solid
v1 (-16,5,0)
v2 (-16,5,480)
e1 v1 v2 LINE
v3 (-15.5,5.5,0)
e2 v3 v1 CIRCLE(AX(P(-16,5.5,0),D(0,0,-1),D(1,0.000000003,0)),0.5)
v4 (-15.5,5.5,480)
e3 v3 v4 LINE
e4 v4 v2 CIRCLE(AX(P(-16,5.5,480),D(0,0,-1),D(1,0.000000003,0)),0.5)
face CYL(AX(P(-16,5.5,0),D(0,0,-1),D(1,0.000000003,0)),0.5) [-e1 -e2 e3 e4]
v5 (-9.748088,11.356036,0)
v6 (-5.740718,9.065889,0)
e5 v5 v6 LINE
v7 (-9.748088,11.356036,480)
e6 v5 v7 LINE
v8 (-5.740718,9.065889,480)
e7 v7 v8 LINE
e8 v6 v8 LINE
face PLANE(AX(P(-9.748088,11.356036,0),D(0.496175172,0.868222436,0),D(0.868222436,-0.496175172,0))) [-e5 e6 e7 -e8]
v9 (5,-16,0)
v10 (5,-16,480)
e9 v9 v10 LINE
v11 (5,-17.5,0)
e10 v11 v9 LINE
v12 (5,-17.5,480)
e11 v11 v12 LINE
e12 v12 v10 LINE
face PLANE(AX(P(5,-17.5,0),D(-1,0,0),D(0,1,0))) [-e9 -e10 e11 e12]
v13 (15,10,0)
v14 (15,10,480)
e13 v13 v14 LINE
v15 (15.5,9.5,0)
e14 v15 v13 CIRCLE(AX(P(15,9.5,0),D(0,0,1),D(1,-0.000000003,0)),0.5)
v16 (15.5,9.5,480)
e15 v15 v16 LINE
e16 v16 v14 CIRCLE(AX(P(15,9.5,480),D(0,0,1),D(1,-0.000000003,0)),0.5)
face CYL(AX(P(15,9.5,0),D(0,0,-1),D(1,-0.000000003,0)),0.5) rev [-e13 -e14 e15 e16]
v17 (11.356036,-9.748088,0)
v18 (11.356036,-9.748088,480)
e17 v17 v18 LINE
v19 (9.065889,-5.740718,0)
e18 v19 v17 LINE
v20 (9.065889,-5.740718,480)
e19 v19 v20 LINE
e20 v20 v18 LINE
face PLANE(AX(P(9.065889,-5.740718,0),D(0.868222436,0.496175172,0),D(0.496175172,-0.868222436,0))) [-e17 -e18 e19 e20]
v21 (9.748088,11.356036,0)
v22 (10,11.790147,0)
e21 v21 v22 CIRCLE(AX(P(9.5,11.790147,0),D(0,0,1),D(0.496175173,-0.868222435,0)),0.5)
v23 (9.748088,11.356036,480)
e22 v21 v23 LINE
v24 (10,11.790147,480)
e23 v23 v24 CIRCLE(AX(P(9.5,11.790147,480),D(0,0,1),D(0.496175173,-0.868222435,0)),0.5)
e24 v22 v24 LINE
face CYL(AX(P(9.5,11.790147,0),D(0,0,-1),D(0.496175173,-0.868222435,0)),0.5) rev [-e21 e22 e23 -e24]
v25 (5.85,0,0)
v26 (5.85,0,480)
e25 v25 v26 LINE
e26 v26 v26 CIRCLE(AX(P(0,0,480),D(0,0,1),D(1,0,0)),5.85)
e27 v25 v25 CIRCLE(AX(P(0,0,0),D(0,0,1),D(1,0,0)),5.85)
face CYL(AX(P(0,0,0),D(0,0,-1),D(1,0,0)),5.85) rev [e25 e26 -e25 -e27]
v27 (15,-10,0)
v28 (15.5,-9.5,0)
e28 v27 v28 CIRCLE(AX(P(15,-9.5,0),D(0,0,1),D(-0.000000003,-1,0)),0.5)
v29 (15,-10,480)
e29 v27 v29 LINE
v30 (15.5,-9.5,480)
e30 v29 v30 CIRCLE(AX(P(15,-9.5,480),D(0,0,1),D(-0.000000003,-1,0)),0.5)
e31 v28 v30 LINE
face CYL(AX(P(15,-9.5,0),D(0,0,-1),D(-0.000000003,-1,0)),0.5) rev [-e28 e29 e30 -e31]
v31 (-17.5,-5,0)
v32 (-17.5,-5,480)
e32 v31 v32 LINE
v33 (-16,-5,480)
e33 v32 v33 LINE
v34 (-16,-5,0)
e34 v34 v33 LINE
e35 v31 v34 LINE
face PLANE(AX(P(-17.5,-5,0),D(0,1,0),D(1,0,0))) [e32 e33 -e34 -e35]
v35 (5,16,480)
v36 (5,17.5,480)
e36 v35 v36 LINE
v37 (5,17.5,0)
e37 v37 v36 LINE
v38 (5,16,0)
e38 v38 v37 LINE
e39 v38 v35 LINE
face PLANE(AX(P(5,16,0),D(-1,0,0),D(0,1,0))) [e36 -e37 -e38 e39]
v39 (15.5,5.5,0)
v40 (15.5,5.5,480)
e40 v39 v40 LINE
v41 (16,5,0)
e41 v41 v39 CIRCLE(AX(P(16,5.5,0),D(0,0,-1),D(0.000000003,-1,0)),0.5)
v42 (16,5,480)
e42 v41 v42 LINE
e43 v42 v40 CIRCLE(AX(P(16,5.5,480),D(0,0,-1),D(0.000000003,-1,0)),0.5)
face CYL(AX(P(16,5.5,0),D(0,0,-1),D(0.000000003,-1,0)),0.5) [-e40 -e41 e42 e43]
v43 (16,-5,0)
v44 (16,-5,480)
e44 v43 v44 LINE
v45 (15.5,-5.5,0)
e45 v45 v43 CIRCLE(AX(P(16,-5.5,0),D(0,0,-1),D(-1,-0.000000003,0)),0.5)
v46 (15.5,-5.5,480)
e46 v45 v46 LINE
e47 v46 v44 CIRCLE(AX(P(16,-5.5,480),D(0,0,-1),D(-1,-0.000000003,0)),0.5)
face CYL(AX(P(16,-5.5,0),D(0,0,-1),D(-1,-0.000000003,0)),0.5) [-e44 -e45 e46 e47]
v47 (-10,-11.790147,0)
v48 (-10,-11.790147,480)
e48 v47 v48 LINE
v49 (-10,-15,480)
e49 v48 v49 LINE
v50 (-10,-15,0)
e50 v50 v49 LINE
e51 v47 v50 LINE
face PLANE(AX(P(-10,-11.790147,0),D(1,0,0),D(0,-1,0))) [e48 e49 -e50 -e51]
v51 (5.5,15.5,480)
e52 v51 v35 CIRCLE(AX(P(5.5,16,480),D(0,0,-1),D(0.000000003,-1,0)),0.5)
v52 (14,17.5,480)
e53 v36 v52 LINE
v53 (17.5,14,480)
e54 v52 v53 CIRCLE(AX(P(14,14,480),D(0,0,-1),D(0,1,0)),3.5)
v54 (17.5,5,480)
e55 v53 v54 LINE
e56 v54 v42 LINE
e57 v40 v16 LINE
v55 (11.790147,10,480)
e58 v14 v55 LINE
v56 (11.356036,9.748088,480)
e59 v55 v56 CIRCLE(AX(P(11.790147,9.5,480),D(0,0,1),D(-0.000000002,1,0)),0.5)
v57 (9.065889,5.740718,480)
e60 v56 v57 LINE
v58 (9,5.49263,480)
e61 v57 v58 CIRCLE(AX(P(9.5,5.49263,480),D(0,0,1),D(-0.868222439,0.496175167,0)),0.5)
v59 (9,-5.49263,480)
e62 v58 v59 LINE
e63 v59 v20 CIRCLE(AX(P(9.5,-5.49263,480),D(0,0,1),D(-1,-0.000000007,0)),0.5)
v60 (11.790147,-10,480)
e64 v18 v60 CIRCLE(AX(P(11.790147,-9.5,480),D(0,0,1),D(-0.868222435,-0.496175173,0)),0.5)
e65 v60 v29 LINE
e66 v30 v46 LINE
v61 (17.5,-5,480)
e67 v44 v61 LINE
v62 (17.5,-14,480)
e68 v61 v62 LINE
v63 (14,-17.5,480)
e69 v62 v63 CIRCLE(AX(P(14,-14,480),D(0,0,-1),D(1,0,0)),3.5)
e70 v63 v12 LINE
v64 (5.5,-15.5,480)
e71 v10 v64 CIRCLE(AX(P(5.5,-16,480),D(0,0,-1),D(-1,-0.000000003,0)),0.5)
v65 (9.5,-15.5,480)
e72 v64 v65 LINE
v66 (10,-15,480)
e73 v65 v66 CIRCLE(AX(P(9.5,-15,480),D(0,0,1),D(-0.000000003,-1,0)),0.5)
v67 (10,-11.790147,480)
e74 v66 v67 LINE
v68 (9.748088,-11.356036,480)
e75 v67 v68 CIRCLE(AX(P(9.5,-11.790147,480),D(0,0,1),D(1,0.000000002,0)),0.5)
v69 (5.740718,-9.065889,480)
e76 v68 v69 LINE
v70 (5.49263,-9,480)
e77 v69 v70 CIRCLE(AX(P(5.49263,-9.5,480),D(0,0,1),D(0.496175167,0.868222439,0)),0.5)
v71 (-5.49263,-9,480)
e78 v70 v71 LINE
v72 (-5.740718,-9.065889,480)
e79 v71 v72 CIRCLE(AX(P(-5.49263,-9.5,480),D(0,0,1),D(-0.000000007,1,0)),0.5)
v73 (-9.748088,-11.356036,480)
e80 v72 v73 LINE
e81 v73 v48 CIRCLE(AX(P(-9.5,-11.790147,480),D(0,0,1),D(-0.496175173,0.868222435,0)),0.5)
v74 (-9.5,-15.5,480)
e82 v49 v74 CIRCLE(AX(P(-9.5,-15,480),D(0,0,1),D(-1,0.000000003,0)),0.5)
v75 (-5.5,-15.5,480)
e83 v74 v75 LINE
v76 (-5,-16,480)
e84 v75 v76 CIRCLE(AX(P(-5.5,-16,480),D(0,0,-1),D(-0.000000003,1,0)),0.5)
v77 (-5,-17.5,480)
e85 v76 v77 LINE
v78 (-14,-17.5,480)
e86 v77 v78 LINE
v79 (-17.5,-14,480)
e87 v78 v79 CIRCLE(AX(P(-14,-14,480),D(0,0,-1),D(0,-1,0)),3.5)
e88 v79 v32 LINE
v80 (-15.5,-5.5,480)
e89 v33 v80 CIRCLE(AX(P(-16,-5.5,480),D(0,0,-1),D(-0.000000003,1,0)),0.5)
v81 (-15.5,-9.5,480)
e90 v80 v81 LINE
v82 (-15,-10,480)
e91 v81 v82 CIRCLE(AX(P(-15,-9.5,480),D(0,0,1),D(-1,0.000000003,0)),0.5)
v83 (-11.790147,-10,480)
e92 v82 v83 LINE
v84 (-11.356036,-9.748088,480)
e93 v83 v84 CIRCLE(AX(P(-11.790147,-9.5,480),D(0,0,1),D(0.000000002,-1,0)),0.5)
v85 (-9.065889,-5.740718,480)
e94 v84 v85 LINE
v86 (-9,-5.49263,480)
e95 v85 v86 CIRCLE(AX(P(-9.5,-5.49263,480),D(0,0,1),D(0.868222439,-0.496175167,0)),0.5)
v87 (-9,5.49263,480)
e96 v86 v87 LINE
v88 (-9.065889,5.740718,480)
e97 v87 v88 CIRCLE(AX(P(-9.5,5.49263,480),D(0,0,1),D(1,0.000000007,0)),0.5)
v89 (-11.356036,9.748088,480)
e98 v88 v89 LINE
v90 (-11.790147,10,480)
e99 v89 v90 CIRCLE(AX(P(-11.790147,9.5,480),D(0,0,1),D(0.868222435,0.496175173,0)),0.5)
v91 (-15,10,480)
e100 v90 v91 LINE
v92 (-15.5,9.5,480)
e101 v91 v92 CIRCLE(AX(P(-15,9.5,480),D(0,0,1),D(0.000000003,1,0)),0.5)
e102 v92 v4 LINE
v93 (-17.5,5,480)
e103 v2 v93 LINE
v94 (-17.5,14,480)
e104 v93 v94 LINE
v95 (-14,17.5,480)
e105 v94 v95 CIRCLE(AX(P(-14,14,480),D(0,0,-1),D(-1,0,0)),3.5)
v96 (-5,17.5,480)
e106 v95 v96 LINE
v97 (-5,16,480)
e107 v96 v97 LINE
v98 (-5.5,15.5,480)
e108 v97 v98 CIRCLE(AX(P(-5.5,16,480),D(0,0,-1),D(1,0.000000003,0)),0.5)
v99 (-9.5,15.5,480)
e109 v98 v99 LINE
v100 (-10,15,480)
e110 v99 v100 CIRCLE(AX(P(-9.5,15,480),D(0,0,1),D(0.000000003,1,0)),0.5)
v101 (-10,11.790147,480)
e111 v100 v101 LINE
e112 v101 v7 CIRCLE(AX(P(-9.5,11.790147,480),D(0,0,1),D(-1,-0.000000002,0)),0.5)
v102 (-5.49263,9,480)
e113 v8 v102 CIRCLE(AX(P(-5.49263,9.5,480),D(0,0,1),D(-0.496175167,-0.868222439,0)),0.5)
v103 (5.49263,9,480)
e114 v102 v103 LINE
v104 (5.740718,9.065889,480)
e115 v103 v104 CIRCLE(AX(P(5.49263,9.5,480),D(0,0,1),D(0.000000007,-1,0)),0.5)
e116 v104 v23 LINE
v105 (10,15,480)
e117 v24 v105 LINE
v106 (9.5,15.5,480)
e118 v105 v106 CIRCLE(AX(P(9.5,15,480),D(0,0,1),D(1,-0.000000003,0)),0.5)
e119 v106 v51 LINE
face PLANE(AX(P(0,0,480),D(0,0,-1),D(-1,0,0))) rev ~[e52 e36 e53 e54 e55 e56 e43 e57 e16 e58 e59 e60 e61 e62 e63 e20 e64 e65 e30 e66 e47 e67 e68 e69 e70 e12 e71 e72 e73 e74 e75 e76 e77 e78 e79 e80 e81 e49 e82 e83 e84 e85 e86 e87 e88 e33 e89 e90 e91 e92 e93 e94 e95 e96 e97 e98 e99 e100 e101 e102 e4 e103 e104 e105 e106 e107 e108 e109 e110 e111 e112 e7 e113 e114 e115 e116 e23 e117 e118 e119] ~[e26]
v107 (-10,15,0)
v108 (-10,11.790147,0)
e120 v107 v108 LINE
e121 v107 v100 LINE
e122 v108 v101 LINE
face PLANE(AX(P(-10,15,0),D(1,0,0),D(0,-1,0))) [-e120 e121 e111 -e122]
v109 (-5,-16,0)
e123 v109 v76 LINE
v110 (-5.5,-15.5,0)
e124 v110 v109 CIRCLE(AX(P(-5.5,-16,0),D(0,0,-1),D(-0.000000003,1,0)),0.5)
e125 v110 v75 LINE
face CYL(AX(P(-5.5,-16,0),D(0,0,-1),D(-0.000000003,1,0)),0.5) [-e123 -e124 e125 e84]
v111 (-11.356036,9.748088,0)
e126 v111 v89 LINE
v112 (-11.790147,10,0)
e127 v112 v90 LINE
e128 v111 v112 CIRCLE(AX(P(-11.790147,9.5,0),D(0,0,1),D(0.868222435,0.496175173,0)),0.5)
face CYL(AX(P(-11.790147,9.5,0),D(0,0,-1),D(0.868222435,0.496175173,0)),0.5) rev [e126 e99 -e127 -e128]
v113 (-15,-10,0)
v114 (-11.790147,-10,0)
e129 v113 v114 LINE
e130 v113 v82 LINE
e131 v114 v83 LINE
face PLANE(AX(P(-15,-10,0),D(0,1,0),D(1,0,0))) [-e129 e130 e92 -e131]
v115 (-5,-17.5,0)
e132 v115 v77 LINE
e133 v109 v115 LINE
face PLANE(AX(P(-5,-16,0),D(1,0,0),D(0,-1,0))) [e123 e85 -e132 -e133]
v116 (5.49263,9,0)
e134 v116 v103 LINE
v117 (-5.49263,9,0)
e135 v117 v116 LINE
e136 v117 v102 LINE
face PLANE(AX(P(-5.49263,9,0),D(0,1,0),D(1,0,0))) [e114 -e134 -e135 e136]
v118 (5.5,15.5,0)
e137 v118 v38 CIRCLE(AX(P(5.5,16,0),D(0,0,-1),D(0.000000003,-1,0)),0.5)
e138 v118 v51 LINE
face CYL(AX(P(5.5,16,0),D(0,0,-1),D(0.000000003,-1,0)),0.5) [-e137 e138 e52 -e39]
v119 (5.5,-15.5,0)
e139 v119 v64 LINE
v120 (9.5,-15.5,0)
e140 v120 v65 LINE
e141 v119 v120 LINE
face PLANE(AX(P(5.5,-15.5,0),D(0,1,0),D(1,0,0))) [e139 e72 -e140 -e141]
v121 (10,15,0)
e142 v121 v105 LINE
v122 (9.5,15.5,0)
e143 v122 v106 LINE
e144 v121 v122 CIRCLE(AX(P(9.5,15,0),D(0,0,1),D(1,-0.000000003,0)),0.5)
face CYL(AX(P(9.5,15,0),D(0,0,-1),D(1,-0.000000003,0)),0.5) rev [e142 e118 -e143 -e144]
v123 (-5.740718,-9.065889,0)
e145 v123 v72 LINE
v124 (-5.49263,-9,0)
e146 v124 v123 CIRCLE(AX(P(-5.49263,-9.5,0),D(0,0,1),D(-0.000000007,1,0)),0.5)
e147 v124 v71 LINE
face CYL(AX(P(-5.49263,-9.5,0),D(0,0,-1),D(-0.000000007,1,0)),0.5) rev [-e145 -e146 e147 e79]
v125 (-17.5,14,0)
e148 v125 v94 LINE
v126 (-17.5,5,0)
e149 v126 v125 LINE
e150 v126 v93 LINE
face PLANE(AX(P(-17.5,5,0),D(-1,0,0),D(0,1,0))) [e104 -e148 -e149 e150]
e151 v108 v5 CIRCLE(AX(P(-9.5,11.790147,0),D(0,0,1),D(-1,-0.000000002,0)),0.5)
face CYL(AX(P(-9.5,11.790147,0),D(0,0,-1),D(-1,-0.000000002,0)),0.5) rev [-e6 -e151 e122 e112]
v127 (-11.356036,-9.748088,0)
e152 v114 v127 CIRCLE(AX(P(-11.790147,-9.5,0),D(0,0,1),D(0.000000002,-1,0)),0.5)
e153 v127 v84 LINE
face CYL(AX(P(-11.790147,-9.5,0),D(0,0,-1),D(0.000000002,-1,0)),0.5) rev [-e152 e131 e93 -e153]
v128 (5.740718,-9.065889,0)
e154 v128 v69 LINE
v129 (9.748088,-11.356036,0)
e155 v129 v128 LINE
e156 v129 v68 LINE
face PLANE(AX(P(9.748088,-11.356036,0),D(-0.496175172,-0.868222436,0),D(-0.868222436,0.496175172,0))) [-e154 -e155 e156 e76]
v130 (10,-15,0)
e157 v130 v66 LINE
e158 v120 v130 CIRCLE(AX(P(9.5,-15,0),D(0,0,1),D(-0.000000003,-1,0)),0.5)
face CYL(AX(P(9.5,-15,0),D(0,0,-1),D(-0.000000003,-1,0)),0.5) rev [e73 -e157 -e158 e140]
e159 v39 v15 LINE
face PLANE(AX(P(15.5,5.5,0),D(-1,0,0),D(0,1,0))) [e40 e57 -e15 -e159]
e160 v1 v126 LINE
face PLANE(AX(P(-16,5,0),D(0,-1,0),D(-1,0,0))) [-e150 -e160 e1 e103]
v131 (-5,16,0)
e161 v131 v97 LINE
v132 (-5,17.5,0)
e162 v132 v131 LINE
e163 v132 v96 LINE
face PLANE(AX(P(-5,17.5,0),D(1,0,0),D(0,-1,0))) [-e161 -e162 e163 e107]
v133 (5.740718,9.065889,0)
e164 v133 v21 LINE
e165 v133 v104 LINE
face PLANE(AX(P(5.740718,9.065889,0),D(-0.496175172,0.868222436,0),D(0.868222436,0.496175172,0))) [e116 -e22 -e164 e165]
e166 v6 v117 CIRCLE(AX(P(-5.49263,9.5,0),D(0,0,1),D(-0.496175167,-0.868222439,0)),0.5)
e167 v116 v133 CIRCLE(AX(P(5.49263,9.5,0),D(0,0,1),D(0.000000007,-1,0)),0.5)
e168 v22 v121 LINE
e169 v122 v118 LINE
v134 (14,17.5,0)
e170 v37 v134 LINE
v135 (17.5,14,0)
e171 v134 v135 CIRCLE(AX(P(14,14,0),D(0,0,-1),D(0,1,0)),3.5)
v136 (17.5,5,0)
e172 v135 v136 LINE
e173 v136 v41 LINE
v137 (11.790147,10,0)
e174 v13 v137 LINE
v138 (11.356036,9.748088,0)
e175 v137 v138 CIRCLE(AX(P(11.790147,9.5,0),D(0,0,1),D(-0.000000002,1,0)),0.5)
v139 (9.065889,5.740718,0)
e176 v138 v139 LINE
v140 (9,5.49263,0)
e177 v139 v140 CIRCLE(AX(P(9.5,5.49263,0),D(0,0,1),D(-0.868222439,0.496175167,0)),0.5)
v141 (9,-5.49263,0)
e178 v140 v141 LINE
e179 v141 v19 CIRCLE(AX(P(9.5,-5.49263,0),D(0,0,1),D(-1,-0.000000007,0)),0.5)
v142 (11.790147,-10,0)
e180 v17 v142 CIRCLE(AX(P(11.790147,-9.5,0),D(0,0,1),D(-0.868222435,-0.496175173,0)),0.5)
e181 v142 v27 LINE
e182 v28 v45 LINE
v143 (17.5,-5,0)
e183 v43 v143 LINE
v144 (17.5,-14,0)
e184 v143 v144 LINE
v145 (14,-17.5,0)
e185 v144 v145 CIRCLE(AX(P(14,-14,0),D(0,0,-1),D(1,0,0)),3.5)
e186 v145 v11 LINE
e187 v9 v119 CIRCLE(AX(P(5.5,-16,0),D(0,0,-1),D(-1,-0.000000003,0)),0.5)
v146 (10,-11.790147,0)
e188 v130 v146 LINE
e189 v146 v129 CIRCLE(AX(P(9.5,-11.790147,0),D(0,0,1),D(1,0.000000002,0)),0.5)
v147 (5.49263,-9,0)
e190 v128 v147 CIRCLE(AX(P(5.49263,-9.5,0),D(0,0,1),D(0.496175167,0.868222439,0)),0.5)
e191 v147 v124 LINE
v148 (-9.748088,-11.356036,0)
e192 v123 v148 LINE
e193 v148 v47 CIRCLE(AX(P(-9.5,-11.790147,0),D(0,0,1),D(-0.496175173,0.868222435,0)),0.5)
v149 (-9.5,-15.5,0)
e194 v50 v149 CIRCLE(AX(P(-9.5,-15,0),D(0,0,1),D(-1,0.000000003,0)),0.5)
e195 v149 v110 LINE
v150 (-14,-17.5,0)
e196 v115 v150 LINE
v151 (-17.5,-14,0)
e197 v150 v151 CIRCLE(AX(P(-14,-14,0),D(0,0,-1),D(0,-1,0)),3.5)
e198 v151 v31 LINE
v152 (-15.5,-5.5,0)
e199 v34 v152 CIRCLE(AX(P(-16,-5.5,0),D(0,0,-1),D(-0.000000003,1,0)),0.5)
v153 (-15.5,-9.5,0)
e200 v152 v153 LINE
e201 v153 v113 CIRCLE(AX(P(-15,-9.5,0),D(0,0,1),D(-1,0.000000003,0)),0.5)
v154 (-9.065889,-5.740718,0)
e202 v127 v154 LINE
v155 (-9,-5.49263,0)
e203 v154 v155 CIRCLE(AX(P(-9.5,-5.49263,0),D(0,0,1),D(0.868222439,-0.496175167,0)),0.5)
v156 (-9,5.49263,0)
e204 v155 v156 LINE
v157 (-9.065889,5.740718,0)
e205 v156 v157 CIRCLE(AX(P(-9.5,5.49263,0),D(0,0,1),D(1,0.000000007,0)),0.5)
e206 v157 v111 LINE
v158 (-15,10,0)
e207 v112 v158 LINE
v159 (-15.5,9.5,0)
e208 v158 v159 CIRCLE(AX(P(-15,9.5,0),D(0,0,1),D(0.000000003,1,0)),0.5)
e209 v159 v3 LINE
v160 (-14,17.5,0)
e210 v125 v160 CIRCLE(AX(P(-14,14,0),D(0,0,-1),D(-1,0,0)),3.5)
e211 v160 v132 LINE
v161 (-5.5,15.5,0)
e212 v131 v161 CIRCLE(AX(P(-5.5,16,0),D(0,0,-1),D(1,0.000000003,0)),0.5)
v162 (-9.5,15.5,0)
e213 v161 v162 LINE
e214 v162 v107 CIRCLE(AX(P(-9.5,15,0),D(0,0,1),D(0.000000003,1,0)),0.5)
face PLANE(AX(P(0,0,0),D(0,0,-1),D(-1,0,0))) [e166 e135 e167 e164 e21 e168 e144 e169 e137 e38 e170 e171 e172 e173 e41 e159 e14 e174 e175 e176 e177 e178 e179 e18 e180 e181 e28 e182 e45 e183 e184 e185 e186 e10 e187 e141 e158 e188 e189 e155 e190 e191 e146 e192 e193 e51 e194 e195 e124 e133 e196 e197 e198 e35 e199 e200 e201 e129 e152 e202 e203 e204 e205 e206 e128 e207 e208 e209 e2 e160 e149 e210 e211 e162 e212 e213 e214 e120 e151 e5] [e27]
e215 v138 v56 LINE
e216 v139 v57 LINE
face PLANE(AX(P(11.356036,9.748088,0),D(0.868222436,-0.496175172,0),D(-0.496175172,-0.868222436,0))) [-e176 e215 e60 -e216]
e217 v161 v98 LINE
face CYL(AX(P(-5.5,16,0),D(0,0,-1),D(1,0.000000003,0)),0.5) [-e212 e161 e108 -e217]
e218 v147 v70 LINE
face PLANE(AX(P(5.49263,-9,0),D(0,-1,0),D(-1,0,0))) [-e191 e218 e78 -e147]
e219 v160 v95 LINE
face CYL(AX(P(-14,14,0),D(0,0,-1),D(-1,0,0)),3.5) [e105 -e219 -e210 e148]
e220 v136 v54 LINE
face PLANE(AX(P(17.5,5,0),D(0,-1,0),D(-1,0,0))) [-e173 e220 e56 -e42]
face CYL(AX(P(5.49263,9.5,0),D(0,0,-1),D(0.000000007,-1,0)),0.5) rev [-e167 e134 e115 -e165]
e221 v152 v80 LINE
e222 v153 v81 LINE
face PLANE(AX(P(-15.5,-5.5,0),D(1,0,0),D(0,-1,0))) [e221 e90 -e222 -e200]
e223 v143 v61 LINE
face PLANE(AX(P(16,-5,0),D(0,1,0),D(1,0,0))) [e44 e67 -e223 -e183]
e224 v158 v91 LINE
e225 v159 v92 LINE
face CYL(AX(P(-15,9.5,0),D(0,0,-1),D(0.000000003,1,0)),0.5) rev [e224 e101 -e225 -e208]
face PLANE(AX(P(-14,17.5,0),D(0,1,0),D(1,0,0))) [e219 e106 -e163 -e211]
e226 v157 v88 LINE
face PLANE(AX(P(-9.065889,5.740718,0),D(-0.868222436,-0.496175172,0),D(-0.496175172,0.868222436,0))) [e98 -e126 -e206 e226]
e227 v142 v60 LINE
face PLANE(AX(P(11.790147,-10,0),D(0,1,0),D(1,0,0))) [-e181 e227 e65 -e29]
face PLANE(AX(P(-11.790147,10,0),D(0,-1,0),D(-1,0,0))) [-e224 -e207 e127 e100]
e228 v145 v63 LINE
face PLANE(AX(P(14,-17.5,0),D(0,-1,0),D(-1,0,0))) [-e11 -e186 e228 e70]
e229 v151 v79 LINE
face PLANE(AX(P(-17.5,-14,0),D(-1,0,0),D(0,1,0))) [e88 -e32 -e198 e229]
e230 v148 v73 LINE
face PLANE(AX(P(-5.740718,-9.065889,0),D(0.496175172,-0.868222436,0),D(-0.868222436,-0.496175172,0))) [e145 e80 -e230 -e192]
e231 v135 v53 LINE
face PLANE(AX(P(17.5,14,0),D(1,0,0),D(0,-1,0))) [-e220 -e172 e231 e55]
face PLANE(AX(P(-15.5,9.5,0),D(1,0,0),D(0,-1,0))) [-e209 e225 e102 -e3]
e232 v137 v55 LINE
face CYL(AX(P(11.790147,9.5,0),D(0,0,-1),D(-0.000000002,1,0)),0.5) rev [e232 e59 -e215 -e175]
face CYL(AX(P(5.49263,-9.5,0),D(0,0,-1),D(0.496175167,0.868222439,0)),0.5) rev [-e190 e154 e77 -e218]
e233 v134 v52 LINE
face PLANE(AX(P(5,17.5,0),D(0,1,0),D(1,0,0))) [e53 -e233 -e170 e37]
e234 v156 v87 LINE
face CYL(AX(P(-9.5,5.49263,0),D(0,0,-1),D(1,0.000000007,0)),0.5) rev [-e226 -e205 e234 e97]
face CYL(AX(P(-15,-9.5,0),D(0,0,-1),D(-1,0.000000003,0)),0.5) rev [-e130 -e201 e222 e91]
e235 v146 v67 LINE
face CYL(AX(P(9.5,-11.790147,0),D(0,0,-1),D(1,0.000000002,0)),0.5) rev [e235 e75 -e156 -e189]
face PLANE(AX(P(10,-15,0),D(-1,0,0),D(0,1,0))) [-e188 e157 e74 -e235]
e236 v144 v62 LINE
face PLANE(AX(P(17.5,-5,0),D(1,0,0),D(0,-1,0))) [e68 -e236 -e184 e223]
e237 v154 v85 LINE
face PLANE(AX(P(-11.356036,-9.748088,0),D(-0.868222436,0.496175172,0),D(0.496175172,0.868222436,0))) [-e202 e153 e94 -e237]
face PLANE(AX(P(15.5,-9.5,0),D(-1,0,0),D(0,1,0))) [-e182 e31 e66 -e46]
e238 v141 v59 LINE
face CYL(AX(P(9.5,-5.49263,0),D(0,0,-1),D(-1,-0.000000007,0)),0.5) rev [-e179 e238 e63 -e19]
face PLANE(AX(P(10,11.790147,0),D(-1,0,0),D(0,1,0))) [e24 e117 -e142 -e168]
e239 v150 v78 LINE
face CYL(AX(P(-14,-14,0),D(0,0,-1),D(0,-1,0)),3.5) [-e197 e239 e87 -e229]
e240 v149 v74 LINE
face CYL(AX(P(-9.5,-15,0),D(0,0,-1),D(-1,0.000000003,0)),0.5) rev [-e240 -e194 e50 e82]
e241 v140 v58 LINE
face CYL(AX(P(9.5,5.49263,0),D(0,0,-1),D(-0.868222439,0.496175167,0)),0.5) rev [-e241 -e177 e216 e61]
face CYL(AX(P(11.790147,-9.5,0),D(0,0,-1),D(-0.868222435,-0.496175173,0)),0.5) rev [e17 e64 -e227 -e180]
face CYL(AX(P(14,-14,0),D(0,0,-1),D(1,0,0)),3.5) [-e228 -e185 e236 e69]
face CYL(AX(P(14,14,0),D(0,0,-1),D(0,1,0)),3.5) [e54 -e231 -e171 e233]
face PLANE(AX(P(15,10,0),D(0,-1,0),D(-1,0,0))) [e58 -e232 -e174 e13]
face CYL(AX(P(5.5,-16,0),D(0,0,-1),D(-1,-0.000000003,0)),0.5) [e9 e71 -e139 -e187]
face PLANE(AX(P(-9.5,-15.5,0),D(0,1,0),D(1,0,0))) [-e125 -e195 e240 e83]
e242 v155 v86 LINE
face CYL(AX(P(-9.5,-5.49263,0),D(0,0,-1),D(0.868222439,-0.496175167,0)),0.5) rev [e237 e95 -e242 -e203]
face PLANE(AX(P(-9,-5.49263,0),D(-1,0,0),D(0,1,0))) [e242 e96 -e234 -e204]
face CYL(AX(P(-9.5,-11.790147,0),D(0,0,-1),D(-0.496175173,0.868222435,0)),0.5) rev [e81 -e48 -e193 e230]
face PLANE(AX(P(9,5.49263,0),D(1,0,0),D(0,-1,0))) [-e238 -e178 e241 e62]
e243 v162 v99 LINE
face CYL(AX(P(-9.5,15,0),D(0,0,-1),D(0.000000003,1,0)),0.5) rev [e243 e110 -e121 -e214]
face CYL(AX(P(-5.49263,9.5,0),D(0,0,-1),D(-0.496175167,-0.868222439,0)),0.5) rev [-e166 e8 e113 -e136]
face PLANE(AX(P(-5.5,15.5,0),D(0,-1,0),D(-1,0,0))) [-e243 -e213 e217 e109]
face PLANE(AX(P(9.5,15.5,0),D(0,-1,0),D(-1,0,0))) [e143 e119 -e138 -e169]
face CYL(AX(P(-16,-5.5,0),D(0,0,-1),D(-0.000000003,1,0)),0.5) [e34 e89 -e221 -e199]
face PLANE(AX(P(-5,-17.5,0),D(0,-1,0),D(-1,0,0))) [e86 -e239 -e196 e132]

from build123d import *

# Parameters (mm, degrees)
CROQUIS1_R              = 5.85
SALIENTE_EXTRUIR1_DEPTH = 480


with BuildPart() as part:
    # Croquis1 → Saliente-Extruir1 (new body)
    with BuildSketch(Plane.XY):
        with BuildLine():
            Line((-17.5, -5), (-16, -5))
            ThreePointArc((-16, -5), (-15.646446609, -5.146446609), (-15.5, -5.5))
            Line((-15.5, -5.5), (-15.5, -9.5))
            ThreePointArc((-15.5, -9.5), (-15.353553391, -9.853553391), (-15, -10))
            Line((-15, -10), (-11.790147321, -10))
            ThreePointArc((-11.790147321, -10), (-11.539192936, -9.932460283), (-11.356036103, -9.748087586))
            Line((-11.356036103, -9.748087586), (-9.065888782, -5.740718013))
            ThreePointArc((-9.065888782, -5.740718013), (-9.016752854, -5.620974478), (-9, -5.492630427))
            Line((-9, -5.492630427), (-9, 5.492630427))
            ThreePointArc((-9, 5.492630427), (-9.016752854, 5.620974478), (-9.065888782, 5.740718013))
            Line((-9.065888782, 5.740718013), (-11.356036103, 9.748087586))
            ThreePointArc((-11.356036103, 9.748087586), (-11.539192936, 9.932460283), (-11.790147321, 10))
            Line((-11.790147321, 10), (-15, 10))
            ThreePointArc((-15, 10), (-15.353553391, 9.853553391), (-15.5, 9.5))
            Line((-15.5, 9.5), (-15.5, 5.5))
            ThreePointArc((-15.5, 5.5), (-15.646446609, 5.146446609), (-16, 5))
            Line((-16, 5), (-17.5, 5))
            Line((-17.5, 5), (-17.5, 14))
            ThreePointArc((-17.5, 14), (-16.474873734, 16.474873734), (-14, 17.5))
            Line((-14, 17.5), (-5, 17.5))
            Line((-5, 17.5), (-5, 16))
            ThreePointArc((-5, 16), (-5.146446609, 15.646446609), (-5.5, 15.5))
            Line((-5.5, 15.5), (-9.5, 15.5))
            ThreePointArc((-9.5, 15.5), (-9.853553391, 15.353553391), (-10, 15))
            Line((-10, 15), (-10, 11.790147321))
            ThreePointArc((-10, 11.790147321), (-9.932460283, 11.539192936), (-9.748087586, 11.356036103))
            Line((-9.748087586, 11.356036103), (-5.740718013, 9.065888782))
            ThreePointArc((-5.740718013, 9.065888782), (-5.620974478, 9.016752854), (-5.492630427, 9))
            Line((-5.492630427, 9), (5.492630427, 9))
            ThreePointArc((5.492630427, 9), (5.620974478, 9.016752854), (5.740718013, 9.065888782))
            Line((5.740718013, 9.065888782), (9.748087586, 11.356036103))
            ThreePointArc((9.748087586, 11.356036103), (9.932460283, 11.539192936), (10, 11.790147321))
            Line((10, 11.790147321), (10, 15))
            ThreePointArc((10, 15), (9.853553391, 15.353553391), (9.5, 15.5))
            Line((9.5, 15.5), (5.5, 15.5))
            ThreePointArc((5.5, 15.5), (5.146446609, 15.646446609), (5, 16))
            Line((5, 16), (5, 17.5))
            Line((5, 17.5), (14, 17.5))
            ThreePointArc((14, 17.5), (16.474873734, 16.474873734), (17.5, 14))
            Line((17.5, 14), (17.5, 5))
            Line((17.5, 5), (16, 5))
            ThreePointArc((16, 5), (15.646446609, 5.146446609), (15.5, 5.5))
            Line((15.5, 5.5), (15.5, 9.5))
            ThreePointArc((15.5, 9.5), (15.353553391, 9.853553391), (15, 10))
            Line((15, 10), (11.790147321, 10))
            ThreePointArc((11.790147321, 10), (11.539192936, 9.932460283), (11.356036103, 9.748087586))
            Line((11.356036103, 9.748087586), (9.065888782, 5.740718013))
            ThreePointArc((9.065888782, 5.740718013), (9.016752854, 5.620974478), (9, 5.492630427))
            Line((9, 5.492630427), (9, -5.492630427))
            ThreePointArc((9, -5.492630427), (9.016752854, -5.620974478), (9.065888782, -5.740718013))
            Line((9.065888782, -5.740718013), (11.356036103, -9.748087586))
            ThreePointArc((11.356036103, -9.748087586), (11.539192936, -9.932460283), (11.790147321, -10))
            Line((11.790147321, -10), (15, -10))
            ThreePointArc((15, -10), (15.353553391, -9.853553391), (15.5, -9.5))
            Line((15.5, -9.5), (15.5, -5.5))
            ThreePointArc((15.5, -5.5), (15.646446609, -5.146446609), (16, -5))
            Line((16, -5), (17.5, -5))
            Line((17.5, -5), (17.5, -14))
            ThreePointArc((17.5, -14), (16.474873734, -16.474873734), (14, -17.5))
            Line((14, -17.5), (5, -17.5))
            Line((5, -17.5), (5, -16))
            ThreePointArc((5, -16), (5.146446609, -15.646446609), (5.5, -15.5))
            Line((5.5, -15.5), (9.5, -15.5))
            ThreePointArc((9.5, -15.5), (9.853553391, -15.353553391), (10, -15))
            Line((10, -15), (10, -11.790147321))
            ThreePointArc((10, -11.790147321), (9.932460283, -11.539192936), (9.748087586, -11.356036103))
            Line((9.748087586, -11.356036103), (5.740718013, -9.065888782))
            ThreePointArc((5.740718013, -9.065888782), (5.620974478, -9.016752854), (5.492630427, -9))
            Line((5.492630427, -9), (-5.492630427, -9))
            ThreePointArc((-5.492630427, -9), (-5.620974478, -9.016752854), (-5.740718013, -9.065888782))
            Line((-5.740718013, -9.065888782), (-9.748087586, -11.356036103))
            ThreePointArc((-9.748087586, -11.356036103), (-9.932460283, -11.539192936), (-10, -11.790147321))
            Line((-10, -11.790147321), (-10, -15))
            ThreePointArc((-10, -15), (-9.853553391, -15.353553391), (-9.5, -15.5))
            Line((-9.5, -15.5), (-5.5, -15.5))
            ThreePointArc((-5.5, -15.5), (-5.146446609, -15.646446609), (-5, -16))
            Line((-5, -16), (-5, -17.5))
            Line((-5, -17.5), (-14, -17.5))
            ThreePointArc((-14, -17.5), (-16.474873734, -16.474873734), (-17.5, -14))
            Line((-17.5, -14), (-17.5, -5))
        make_face()
        Circle(CROQUIS1_R, mode=Mode.SUBTRACT)
    extrude(amount=SALIENTE_EXTRUIR1_DEPTH)


solid = part.part
